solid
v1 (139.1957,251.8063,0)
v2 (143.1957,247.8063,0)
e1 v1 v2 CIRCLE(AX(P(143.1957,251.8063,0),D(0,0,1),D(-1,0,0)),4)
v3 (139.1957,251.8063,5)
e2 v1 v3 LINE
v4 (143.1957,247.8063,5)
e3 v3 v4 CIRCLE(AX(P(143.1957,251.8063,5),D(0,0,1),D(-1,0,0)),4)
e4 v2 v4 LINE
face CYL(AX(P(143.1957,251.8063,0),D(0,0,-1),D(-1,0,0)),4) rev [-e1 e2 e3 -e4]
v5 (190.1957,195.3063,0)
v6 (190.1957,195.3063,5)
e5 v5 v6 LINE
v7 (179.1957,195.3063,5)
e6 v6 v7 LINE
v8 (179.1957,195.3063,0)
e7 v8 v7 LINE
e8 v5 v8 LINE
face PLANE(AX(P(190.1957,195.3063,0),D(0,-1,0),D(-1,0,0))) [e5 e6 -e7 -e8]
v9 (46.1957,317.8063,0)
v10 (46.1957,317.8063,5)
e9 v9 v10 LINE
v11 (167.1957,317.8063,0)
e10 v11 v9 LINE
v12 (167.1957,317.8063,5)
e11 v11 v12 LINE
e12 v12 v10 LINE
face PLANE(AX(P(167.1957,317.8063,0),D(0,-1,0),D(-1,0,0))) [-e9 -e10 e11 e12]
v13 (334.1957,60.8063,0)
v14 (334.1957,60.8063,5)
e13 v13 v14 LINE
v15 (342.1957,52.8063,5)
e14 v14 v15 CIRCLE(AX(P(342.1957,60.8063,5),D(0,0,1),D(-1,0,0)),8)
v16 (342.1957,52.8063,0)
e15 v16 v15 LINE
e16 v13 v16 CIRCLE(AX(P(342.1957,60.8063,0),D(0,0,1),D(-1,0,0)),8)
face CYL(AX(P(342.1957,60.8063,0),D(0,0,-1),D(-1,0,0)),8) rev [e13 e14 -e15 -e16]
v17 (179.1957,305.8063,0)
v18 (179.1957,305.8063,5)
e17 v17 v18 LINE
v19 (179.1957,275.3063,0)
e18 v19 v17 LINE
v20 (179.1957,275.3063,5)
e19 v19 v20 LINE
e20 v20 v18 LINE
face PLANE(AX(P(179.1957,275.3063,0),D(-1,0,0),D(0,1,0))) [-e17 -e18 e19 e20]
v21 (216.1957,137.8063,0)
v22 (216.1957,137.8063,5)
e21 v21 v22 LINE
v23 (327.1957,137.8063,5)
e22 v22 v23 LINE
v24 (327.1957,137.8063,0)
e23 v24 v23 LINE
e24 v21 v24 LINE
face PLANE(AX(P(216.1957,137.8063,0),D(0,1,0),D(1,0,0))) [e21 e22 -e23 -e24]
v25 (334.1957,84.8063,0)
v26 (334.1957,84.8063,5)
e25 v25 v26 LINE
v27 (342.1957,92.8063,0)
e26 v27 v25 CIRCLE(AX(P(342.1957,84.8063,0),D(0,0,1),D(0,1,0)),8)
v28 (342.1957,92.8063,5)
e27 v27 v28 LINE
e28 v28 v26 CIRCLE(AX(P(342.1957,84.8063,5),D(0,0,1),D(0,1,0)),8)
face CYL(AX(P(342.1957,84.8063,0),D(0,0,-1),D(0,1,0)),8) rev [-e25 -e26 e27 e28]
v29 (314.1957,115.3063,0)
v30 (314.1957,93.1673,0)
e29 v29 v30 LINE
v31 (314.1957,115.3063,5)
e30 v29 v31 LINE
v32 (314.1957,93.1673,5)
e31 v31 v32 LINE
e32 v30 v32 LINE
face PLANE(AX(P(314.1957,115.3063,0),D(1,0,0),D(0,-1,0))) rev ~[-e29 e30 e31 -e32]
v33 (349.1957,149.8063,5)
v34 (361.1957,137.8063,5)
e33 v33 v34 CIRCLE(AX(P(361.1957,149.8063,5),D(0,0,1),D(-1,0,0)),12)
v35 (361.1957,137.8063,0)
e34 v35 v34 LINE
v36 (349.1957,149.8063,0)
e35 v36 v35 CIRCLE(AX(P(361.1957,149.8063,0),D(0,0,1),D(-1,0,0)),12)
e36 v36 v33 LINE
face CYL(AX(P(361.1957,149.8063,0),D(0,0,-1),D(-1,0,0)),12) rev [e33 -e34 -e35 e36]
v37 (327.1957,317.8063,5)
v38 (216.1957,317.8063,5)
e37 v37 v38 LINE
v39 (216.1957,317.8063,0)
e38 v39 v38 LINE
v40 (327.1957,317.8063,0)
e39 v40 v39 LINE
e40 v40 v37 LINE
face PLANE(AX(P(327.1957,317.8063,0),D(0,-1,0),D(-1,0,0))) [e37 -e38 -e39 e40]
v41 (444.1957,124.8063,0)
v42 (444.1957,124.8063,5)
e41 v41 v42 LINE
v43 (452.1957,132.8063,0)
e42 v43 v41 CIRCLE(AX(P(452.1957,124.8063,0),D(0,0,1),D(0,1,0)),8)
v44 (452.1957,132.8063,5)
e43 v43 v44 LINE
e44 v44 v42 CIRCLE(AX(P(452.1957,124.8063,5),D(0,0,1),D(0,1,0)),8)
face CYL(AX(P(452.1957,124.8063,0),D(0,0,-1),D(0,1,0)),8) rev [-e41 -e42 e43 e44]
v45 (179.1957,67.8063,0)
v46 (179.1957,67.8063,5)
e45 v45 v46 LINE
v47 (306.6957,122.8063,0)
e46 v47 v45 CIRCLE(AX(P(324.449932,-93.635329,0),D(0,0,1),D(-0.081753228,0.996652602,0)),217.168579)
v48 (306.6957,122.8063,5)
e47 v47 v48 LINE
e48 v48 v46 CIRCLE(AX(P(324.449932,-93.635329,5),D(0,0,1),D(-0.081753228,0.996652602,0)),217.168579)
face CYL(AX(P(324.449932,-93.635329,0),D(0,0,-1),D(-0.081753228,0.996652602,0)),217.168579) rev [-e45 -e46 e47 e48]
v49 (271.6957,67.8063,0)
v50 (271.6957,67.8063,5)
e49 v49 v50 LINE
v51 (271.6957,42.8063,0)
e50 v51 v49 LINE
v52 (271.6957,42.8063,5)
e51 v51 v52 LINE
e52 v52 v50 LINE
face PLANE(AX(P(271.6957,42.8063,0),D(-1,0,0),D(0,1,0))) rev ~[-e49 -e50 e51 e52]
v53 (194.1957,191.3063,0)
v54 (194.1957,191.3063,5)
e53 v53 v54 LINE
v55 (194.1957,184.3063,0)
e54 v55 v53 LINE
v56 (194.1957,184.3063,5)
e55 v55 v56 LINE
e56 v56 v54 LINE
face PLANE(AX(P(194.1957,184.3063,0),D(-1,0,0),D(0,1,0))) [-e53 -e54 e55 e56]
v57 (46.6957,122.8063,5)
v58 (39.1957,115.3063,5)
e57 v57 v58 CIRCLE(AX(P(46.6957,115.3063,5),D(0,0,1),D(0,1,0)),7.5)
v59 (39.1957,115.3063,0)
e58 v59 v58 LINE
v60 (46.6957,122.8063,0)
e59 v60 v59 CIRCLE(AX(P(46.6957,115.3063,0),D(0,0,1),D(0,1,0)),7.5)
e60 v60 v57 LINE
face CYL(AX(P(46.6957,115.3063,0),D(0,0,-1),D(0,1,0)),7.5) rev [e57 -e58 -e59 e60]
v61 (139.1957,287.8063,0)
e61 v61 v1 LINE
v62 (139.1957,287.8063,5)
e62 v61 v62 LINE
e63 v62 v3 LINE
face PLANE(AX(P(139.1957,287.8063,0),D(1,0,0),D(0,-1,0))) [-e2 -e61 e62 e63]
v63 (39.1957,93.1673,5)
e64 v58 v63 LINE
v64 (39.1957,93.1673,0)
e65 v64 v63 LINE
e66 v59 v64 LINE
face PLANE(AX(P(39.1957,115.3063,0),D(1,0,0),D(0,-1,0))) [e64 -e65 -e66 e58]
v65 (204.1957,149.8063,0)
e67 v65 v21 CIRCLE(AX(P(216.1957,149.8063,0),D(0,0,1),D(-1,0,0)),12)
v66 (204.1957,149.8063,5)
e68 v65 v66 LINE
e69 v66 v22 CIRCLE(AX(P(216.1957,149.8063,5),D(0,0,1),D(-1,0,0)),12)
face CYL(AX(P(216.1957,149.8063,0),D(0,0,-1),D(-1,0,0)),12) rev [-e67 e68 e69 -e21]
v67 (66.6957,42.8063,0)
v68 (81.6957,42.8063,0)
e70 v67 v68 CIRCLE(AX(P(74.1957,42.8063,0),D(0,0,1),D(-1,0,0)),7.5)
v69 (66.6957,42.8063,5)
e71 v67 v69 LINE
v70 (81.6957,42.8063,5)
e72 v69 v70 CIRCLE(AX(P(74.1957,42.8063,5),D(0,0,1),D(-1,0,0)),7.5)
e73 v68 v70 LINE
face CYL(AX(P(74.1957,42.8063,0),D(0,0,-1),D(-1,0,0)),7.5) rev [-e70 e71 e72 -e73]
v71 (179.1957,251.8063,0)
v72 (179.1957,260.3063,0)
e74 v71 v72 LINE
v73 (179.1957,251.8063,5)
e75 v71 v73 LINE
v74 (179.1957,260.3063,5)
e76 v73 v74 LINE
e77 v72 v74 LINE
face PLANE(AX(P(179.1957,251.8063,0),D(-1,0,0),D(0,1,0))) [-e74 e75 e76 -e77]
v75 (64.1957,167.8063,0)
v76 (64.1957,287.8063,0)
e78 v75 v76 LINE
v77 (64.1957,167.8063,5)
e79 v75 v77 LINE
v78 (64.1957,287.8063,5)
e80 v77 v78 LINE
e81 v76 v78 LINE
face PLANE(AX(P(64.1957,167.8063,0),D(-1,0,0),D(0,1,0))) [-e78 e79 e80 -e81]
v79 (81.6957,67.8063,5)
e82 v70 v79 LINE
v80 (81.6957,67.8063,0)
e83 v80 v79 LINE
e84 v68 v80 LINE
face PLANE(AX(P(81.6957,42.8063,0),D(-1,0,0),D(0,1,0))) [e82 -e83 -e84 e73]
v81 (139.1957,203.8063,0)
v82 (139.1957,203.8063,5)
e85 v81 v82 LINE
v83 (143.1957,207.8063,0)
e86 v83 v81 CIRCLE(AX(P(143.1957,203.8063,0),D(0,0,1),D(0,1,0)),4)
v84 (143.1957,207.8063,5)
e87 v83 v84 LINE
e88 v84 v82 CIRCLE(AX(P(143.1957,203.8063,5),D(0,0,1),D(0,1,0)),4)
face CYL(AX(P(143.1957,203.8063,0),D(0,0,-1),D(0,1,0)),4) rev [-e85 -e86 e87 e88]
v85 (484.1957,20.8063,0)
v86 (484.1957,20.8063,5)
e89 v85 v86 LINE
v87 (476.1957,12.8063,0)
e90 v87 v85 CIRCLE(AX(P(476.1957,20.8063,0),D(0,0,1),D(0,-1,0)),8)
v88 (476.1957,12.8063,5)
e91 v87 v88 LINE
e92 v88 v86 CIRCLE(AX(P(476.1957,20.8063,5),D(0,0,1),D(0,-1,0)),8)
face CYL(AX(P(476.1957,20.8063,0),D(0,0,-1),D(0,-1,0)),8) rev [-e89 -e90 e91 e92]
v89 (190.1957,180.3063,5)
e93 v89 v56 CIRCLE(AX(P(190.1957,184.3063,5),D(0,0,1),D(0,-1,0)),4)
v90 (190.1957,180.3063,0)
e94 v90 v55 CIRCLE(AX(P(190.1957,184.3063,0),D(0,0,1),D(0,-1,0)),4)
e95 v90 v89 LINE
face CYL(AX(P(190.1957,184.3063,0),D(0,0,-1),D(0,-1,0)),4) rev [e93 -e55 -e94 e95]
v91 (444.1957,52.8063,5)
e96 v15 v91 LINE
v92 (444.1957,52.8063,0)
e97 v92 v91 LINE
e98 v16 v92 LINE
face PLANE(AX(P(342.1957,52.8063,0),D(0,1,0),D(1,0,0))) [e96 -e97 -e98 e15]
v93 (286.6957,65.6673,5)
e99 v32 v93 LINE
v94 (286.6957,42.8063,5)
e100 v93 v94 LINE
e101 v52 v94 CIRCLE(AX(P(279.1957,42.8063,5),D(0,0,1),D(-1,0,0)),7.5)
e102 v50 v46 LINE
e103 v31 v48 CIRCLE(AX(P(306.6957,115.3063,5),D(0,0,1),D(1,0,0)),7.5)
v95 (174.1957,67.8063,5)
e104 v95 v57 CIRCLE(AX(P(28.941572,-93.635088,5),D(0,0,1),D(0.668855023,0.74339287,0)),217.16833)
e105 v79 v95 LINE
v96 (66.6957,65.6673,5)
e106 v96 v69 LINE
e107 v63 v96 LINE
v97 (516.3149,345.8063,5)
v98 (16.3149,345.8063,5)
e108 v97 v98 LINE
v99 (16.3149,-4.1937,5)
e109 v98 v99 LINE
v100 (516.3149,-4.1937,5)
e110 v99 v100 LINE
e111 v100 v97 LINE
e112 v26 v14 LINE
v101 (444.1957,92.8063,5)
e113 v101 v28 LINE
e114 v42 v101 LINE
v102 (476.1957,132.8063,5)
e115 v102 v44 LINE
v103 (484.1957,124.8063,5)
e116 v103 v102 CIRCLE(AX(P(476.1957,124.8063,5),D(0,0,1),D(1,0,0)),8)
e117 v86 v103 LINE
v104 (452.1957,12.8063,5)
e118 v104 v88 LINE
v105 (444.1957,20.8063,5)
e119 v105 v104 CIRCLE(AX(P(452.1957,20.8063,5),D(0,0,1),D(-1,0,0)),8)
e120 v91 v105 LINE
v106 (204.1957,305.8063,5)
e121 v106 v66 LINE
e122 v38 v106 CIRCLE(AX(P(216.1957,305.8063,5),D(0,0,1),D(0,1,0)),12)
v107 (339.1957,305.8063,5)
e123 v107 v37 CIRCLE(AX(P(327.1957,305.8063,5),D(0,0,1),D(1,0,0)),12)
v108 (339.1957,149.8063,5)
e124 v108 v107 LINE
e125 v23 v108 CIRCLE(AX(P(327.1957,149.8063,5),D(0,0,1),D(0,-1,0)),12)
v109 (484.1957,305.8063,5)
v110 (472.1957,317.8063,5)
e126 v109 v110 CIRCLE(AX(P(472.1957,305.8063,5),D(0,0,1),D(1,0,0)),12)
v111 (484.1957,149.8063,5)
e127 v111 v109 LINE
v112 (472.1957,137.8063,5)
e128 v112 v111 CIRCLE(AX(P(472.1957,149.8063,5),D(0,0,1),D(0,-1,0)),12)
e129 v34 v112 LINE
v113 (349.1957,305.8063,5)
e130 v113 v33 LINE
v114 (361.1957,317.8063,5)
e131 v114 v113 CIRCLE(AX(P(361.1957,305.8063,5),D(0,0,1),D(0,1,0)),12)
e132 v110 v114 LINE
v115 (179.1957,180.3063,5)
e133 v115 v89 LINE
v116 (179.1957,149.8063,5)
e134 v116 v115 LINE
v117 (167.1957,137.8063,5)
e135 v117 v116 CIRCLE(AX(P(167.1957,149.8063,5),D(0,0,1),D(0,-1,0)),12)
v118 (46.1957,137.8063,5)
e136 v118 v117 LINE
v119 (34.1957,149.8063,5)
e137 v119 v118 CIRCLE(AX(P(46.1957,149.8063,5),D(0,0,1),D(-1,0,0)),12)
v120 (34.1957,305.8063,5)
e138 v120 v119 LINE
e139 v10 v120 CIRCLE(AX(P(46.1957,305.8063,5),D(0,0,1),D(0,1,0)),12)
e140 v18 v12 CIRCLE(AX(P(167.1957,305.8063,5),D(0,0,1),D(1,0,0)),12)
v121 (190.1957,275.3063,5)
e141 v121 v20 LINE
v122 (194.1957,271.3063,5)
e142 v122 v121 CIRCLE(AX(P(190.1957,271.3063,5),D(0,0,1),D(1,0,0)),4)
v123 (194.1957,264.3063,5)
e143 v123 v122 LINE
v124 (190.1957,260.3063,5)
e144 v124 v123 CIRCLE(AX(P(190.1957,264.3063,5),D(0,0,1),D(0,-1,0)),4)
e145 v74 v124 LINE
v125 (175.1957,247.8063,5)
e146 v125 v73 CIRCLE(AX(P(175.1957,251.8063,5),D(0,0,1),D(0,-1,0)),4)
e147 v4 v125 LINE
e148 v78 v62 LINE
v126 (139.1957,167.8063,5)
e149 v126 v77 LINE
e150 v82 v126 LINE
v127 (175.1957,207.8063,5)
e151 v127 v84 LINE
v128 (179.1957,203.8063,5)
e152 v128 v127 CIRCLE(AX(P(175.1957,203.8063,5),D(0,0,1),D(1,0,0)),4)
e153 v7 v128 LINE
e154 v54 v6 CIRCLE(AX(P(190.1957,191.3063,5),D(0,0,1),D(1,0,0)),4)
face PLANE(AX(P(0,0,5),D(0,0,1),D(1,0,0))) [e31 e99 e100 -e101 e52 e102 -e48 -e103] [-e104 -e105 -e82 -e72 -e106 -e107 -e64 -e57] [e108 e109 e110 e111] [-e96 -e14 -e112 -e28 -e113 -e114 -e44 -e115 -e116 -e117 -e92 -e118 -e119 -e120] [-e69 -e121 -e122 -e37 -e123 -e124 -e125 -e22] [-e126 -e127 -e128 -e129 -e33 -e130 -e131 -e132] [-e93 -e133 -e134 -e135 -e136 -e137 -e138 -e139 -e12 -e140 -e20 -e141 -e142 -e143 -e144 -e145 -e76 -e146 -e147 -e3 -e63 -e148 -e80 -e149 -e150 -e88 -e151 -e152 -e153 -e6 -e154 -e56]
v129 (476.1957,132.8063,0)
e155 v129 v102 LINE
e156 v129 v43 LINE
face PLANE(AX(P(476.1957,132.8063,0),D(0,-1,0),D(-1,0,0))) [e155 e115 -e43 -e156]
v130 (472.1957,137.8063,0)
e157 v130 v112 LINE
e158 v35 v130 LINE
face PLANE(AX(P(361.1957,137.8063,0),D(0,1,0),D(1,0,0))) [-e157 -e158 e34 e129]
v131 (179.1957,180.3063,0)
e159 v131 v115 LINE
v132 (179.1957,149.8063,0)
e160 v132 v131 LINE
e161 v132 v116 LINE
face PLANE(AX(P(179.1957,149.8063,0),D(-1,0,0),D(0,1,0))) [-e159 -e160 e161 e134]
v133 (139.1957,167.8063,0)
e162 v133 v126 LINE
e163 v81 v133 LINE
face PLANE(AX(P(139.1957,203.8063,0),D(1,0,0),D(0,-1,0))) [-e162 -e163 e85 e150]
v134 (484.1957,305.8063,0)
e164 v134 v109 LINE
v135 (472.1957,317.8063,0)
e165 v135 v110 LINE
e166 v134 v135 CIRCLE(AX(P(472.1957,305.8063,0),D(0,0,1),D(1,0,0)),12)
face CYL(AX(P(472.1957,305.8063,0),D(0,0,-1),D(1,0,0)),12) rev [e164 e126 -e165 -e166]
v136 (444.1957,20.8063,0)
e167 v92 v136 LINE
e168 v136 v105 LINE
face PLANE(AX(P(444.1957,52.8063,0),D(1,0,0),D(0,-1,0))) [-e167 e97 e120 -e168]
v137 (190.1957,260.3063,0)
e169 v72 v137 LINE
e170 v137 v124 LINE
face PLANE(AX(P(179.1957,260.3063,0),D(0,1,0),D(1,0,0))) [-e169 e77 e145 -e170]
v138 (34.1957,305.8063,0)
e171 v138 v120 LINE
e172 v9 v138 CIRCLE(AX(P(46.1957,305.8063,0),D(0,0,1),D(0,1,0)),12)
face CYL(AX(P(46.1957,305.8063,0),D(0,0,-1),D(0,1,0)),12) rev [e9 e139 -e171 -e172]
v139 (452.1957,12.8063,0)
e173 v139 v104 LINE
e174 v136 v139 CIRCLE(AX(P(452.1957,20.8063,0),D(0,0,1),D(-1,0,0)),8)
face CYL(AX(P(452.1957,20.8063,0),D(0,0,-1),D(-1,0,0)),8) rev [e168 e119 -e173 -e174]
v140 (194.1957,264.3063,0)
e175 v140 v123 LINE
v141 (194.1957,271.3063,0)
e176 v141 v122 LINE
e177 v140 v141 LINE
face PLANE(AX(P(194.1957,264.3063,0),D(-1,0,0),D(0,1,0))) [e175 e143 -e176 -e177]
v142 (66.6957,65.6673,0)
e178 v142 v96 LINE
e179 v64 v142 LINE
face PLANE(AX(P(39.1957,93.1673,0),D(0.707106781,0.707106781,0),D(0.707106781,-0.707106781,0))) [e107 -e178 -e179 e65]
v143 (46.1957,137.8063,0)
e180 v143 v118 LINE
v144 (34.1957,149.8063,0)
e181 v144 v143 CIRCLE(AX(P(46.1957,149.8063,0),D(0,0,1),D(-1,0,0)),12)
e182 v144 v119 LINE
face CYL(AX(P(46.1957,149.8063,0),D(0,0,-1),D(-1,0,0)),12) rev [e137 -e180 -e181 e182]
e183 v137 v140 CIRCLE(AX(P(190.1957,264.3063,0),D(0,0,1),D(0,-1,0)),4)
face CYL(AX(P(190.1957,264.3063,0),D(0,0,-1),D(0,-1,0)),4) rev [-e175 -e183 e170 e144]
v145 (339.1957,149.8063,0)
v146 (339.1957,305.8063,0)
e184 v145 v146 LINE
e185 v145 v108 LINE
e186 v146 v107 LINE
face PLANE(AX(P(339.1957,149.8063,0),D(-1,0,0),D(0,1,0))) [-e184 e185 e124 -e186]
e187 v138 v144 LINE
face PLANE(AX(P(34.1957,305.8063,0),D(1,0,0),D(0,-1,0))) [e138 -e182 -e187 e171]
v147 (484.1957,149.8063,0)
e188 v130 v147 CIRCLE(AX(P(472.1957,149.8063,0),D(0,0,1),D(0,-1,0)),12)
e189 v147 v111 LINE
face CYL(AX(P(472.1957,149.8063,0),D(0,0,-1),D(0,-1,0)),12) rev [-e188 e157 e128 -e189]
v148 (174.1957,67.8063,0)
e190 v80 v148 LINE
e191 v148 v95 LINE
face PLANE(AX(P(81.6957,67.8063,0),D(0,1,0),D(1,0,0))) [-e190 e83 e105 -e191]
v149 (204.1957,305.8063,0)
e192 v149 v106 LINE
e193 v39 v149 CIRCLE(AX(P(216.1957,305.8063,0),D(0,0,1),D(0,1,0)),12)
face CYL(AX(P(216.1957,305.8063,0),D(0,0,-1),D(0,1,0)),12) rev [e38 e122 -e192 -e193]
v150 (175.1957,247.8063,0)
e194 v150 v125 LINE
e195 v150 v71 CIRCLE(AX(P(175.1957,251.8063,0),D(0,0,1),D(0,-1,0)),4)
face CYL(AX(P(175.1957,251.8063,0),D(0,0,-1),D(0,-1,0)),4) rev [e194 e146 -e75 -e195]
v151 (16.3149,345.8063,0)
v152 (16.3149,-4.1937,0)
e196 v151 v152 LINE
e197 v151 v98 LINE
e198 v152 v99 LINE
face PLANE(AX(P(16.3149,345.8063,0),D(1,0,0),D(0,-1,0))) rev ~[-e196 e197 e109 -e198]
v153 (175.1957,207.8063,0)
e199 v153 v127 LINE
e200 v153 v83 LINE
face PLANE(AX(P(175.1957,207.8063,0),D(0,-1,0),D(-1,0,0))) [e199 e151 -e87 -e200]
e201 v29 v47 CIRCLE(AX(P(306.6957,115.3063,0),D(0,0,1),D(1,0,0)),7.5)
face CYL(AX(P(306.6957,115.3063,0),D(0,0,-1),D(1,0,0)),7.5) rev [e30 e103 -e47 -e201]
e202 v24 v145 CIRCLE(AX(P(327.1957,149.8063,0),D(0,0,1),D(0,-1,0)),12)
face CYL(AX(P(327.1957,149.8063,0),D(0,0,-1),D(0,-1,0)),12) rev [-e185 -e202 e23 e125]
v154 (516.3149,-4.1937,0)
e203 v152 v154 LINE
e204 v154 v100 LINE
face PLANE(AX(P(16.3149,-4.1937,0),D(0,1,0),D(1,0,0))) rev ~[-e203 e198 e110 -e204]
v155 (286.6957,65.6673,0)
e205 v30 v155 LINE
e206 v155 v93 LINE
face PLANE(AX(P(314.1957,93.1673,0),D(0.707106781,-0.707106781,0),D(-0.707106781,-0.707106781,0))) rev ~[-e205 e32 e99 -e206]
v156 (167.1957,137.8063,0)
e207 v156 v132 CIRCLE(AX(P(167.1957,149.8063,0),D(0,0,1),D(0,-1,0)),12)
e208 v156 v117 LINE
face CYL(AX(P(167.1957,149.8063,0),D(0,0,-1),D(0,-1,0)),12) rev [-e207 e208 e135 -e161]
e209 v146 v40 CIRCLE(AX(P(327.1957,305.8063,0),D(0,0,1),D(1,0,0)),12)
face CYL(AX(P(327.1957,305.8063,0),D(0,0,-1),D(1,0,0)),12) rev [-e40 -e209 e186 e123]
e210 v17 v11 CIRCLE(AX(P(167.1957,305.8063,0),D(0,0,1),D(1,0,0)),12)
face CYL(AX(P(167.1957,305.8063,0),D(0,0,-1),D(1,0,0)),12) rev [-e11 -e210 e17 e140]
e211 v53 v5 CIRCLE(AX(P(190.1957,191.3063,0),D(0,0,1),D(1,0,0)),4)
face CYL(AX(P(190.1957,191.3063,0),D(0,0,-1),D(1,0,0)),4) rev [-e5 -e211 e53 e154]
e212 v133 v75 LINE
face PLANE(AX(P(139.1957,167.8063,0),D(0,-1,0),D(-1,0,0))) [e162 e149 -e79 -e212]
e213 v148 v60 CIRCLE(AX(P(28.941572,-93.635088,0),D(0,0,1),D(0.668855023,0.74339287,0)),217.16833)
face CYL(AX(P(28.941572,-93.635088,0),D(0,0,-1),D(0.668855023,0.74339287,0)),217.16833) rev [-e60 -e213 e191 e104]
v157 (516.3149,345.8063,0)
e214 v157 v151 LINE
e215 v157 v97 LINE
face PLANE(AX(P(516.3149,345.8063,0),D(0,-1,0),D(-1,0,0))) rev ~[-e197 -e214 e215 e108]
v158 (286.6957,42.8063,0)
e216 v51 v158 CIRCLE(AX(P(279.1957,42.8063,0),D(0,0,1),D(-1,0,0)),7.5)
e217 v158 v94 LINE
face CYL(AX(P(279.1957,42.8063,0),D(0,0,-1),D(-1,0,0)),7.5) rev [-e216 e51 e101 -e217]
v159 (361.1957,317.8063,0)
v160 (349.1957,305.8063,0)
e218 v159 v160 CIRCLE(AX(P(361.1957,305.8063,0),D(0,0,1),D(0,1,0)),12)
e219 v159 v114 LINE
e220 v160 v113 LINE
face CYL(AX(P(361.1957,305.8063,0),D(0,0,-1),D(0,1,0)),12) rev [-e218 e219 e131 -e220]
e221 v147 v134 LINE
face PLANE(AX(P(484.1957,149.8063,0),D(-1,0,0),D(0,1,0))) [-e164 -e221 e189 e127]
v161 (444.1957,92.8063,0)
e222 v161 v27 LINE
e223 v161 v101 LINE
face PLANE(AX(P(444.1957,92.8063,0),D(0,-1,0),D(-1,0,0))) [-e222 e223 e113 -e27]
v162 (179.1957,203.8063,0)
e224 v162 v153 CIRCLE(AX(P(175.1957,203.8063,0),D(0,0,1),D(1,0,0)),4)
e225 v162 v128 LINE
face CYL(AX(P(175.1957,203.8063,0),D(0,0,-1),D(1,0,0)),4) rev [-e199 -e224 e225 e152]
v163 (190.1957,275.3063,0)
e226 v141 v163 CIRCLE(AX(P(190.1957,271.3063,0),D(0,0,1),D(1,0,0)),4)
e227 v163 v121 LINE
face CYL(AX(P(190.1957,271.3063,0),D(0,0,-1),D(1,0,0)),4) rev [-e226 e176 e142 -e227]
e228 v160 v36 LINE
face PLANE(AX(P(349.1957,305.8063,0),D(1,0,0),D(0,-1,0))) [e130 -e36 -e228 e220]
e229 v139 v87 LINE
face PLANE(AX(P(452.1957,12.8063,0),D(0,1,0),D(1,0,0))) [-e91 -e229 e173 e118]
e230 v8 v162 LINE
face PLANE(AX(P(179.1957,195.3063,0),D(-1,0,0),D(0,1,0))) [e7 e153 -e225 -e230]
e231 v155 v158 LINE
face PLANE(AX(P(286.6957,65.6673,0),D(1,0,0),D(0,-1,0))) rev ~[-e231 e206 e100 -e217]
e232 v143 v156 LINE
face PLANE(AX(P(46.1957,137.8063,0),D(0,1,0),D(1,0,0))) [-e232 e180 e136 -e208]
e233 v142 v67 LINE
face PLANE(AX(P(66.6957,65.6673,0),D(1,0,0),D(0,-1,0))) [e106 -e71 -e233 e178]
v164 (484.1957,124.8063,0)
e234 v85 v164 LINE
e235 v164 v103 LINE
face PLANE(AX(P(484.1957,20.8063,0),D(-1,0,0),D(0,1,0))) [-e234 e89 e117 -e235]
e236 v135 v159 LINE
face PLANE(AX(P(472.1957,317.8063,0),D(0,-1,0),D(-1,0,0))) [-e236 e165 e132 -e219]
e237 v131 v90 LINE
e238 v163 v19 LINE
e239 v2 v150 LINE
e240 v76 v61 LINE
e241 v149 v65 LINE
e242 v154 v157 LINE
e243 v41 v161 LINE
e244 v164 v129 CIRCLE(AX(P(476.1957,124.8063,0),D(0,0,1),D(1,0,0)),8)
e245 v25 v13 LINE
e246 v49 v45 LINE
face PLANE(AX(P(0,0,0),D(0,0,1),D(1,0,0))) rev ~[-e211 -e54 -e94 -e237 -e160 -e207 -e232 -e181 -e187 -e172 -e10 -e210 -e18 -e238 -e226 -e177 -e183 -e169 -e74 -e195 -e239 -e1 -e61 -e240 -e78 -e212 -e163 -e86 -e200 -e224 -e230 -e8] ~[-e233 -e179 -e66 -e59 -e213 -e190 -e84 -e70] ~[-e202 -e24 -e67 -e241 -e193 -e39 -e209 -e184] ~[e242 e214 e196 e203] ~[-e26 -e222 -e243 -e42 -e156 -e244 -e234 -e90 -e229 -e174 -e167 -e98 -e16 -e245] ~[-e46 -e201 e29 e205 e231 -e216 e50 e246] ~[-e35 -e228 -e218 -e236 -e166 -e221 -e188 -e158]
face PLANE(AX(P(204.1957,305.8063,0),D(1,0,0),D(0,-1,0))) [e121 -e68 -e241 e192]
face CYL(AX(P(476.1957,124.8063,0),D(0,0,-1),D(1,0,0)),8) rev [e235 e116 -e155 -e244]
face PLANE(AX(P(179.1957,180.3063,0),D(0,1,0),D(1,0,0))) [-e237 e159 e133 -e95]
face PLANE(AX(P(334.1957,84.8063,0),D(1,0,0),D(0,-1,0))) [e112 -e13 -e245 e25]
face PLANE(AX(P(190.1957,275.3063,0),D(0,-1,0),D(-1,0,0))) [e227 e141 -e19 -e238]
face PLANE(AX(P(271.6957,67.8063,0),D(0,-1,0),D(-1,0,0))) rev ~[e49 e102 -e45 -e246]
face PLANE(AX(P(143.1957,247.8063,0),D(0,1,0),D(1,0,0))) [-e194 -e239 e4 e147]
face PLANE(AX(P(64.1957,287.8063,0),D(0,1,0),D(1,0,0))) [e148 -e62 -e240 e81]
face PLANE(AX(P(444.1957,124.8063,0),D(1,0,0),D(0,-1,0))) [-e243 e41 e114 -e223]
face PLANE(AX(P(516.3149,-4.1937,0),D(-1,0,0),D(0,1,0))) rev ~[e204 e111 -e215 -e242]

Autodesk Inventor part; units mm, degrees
ref_plane "YZ Plane" through (0, 0, 0) normal (1, 0, 0) x (0, 1, 0)
ref_plane "XZ Plane" through (0, 0, 0) normal (0, 1, 0) x (-1, 0, 0)
ref_plane "XY Plane" through (0, 0, 0) normal (0, 0, 1) x (1, 0, 0)
sketch "Sketch1" plane through (0, 0, 0) normal (0, 0, 1) x (1, 0, 0)
  arc A0 (70.6957, 42.8063) -> (77.6957, 42.8063) centre (74.1957, 42.8063) ccw
  line L0 (66.6957, 65.6673) -> (66.6957, 42.8063)
  line L1 (39.1957, 93.1673) -> (66.6957, 65.6673)
  line L2 (39.1957, 115.3063) -> (39.1957, 93.1673)
  arc A1 (46.6957, 122.8063) -> (39.1957, 115.3063) centre (46.6957, 115.3063) ccw
  arc A2 (174.1957, 67.8063) -> (46.6957, 122.8063) centre (28.9415, -93.6352) ccw
  line L3 (81.6957, 67.8063) -> (174.1957, 67.8063)
  line L4 (81.6957, 42.8063) -> (81.6957, 67.8063)
  arc A3 (66.6957, 42.8063) -> (81.6957, 42.8063) centre (74.1957, 42.8063) ccw
  circle A4 centre (299.1957, 107.8063) radius 3.5
  line L5 (275.6957, 67.8063) -> (275.6957, 42.8063)
  arc A5 (282.6957, 67.8063) -> (275.6957, 67.8063) centre (279.1957, 67.8063) ccw
  line L6 (282.6957, 42.8063) -> (282.6957, 67.8063)
  arc A6 (275.6957, 42.8063) -> (282.6957, 42.8063) centre (279.1957, 42.8063) ccw
  line L7 (286.6957, 65.6673) -> (286.6957, 42.8063)
  line L8 (314.1957, 93.1673) -> (286.6957, 65.6673)
  line L9 (314.1957, 115.3063) -> (314.1957, 93.1673)
  arc A7 (314.1957, 115.3063) -> (306.6957, 122.8063) centre (306.6957, 115.3063) ccw
  arc A8 (306.6957, 122.8063) -> (179.1957, 67.8063) centre (324.4499, -93.6352) ccw
  line L10 (271.6957, 67.8063) -> (179.1957, 67.8063)
  line L11 (271.6957, 42.8063) -> (271.6957, 67.8063)
  arc A9 (271.6957, 42.8063) -> (286.6957, 42.8063) centre (279.1957, 42.8063) ccw
  circle A10 centre (324.1957, 152.8063) radius 3.5
  circle A11 centre (219.1957, 302.8063) radius 3.5
  circle A12 centre (324.1957, 302.8063) radius 3.5
  circle A13 centre (219.1957, 152.8063) radius 3.5
  line L12 (234.1957, 177.8063) -> (234.1957, 277.8063)
  line L13 (309.1957, 177.8063) -> (234.1957, 177.8063)
  line L14 (309.1957, 277.8063) -> (309.1957, 177.8063)
  line L15 (234.1957, 277.8063) -> (309.1957, 277.8063)
  arc A14 (204.1957, 149.8063) -> (216.1957, 137.8063) centre (216.1957, 149.8063) ccw
  line L16 (204.1957, 305.8063) -> (204.1957, 149.8063)
  arc A15 (216.1957, 317.8063) -> (204.1957, 305.8063) centre (216.1957, 305.8063) ccw
  line L17 (327.1957, 317.8063) -> (216.1957, 317.8063)
  arc A16 (339.1957, 305.8063) -> (327.1957, 317.8063) centre (327.1957, 305.8063) ccw
  line L18 (339.1957, 149.8063) -> (339.1957, 305.8063)
  arc A17 (327.1957, 137.8063) -> (339.1957, 149.8063) centre (327.1957, 149.8063) ccw
  line L19 (216.1957, 137.8063) -> (327.1957, 137.8063)
  circle A18 centre (469.1957, 152.8063) radius 3.5
  circle A19 centre (364.1957, 302.8063) radius 3.5
  circle A20 centre (469.1957, 302.8063) radius 3.5
  circle A21 centre (364.1957, 152.8063) radius 3.5
  line L20 (379.1957, 177.8063) -> (379.1957, 277.8063)
  line L21 (454.1957, 177.8063) -> (379.1957, 177.8063)
  line L22 (454.1957, 277.8063) -> (454.1957, 177.8063)
  line L23 (379.1957, 277.8063) -> (454.1957, 277.8063)
  arc A22 (349.1957, 149.8063) -> (361.1957, 137.8063) centre (361.1957, 149.8063) ccw
  line L24 (349.1957, 305.8063) -> (349.1957, 149.8063)
  arc A23 (361.1957, 317.8063) -> (349.1957, 305.8063) centre (361.1957, 305.8063) ccw
  line L25 (472.1957, 317.8063) -> (361.1957, 317.8063)
  arc A24 (484.1957, 305.8063) -> (472.1957, 317.8063) centre (472.1957, 305.8063) ccw
  line L26 (484.1957, 149.8063) -> (484.1957, 305.8063)
  arc A25 (472.1957, 137.8063) -> (484.1957, 149.8063) centre (472.1957, 149.8063) ccw
  line L27 (361.1957, 137.8063) -> (472.1957, 137.8063)
  circle A26 centre (154.1957, 152.8063) radius 3.5
  circle A27 centre (49.1957, 302.8063) radius 3.5
  circle A28 centre (49.1957, 152.8063) radius 3.5
  circle A29 centre (154.1957, 302.8063) radius 3.5
  circle A30 centre (186.6957, 267.8063) radius 3.5
  circle A31 centre (186.6957, 187.8063) radius 3.5
  arc A32 (139.1957, 251.8063) -> (143.1957, 247.8063) centre (143.1957, 251.8063) ccw
  line L28 (139.1957, 287.8063) -> (139.1957, 251.8063)
  line L29 (64.1957, 287.8063) -> (139.1957, 287.8063)
  line L30 (64.1957, 167.8063) -> (64.1957, 287.8063)
  line L31 (139.1957, 167.8063) -> (64.1957, 167.8063)
  line L32 (139.1957, 203.8063) -> (139.1957, 167.8063)
  arc A33 (143.1957, 207.8063) -> (139.1957, 203.8063) centre (143.1957, 203.8063) ccw
  line L33 (175.1957, 207.8063) -> (143.1957, 207.8063)
  arc A34 (179.1957, 203.8063) -> (175.1957, 207.8063) centre (175.1957, 203.8063) ccw
  line L34 (179.1957, 195.3063) -> (179.1957, 203.8063)
  line L35 (190.1957, 195.3063) -> (179.1957, 195.3063)
  arc A35 (194.1957, 191.3063) -> (190.1957, 195.3063) centre (190.1957, 191.3063) ccw
  line L36 (194.1957, 184.3063) -> (194.1957, 191.3063)
  arc A36 (190.1957, 180.3063) -> (194.1957, 184.3063) centre (190.1957, 184.3063) ccw
  line L37 (179.1957, 180.3063) -> (190.1957, 180.3063)
  line L38 (179.1957, 149.8063) -> (179.1957, 180.3063)
  arc A37 (167.1957, 137.8063) -> (179.1957, 149.8063) centre (167.1957, 149.8063) ccw
  line L39 (46.1957, 137.8063) -> (167.1957, 137.8063)
  arc A38 (34.1957, 149.8063) -> (46.1957, 137.8063) centre (46.1957, 149.8063) ccw
  line L40 (34.1957, 305.8063) -> (34.1957, 149.8063)
  arc A39 (46.1957, 317.8063) -> (34.1957, 305.8063) centre (46.1957, 305.8063) ccw
  line L41 (167.1957, 317.8063) -> (46.1957, 317.8063)
  circle A40 centre (54.1957, 107.8063) radius 3.5
  line L42 (179.1957, 275.3063) -> (179.1957, 305.8063)
  line L43 (190.1957, 275.3063) -> (179.1957, 275.3063)
  arc A41 (194.1957, 271.3063) -> (190.1957, 275.3063) centre (190.1957, 271.3063) ccw
  line L44 (194.1957, 264.3063) -> (194.1957, 271.3063)
  arc A42 (190.1957, 260.3063) -> (194.1957, 264.3063) centre (190.1957, 264.3063) ccw
  line L45 (179.1957, 260.3063) -> (190.1957, 260.3063)
  line L46 (179.1957, 251.8063) -> (179.1957, 260.3063)
  arc A43 (175.1957, 247.8063) -> (179.1957, 251.8063) centre (175.1957, 251.8063) ccw
  line L47 (143.1957, 247.8063) -> (175.1957, 247.8063)
  circle A44 centre (341.6957, 72.8063) radius 3.5
  arc A45 (484.1957, 124.8063) -> (476.1957, 132.8063) centre (476.1957, 124.8063) ccw
  line L48 (484.1957, 20.8063) -> (484.1957, 124.8063)
  arc A46 (476.1957, 12.8063) -> (484.1957, 20.8063) centre (476.1957, 20.8063) ccw
  arc A47 (179.1957, 305.8063) -> (167.1957, 317.8063) centre (167.1957, 305.8063) ccw
  arc A48 (444.1957, 20.8063) -> (452.1957, 12.8063) centre (452.1957, 20.8063) ccw
  line L49 (444.1957, 52.8063) -> (444.1957, 20.8063)
  line L50 (342.1957, 52.8063) -> (444.1957, 52.8063)
  arc A49 (334.1957, 60.8063) -> (342.1957, 52.8063) centre (342.1957, 60.8063) ccw
  line L51 (334.1957, 84.8063) -> (334.1957, 60.8063)
  arc A50 (342.1957, 92.8063) -> (334.1957, 84.8063) centre (342.1957, 84.8063) ccw
  line L52 (444.1957, 92.8063) -> (342.1957, 92.8063)
  line L53 (444.1957, 124.8063) -> (444.1957, 92.8063)
  arc A51 (452.1957, 132.8063) -> (444.1957, 124.8063) centre (452.1957, 124.8063) ccw
  line L54 (476.1957, 132.8063) -> (452.1957, 132.8063)
  line L55 (77.6957, 67.8063) -> (77.6957, 42.8063)
  arc A52 (77.6957, 67.8063) -> (70.6957, 67.8063) centre (74.1957, 67.8063) ccw
  line L56 (70.6957, 42.8063) -> (70.6957, 67.8063)
  line L57 (452.1957, 12.8063) -> (476.1957, 12.8063)
  line L58 (17.0765, 317.8063) -> (487.0765, 317.8063) construction
  line L59 (27.0765, 327.8063) -> (27.0765, 7.8063) construction
  line L60 (17.0765, 17.8063) -> (487.0765, 17.8063) construction
  line L61 (484.1957, 7.8063) -> (484.1957, 327.8063) construction
  line L62 (516.3149, 345.8063) -> (16.3149, 345.8063)
  line L63 (16.3149, 345.8063) -> (16.3149, -4.1937)
  line L64 (16.3149, -4.1937) -> (516.3149, -4.1937)
  line L65 (516.3149, -4.1937) -> (516.3149, 345.8063)
  point P0 (179.1957, 165.0563)
  point P1 (167.0765, 67.8063)
  point P2 (172.0765, 67.8063)
  point P3 (339.1957, 305.8063)
  point P4 (27.0765, 305.8063)
  point P5 (484.1957, 20.8063)
  point P6 (452.1957, 132.8063)
  point P7 (484.1957, 124.8063)
  point P8 (342.1957, 92.8063)
  point P9 (349.1957, 149.8063)
  point P10 (349.1957, 305.8063)
  point P11 (361.1957, 137.8063)
  point P12 (216.1957, 137.8063)
  point P13 (204.1957, 149.8063)
  point P14 (46.1957, 317.8063)
  point P15 (9.1957, 345.8063)
  dimension "d20" = 30
  dimension "d21" = 30
  dimension "d22" = 30
  dimension "d23" = 40
  dimension "d24" = 4
  dimension "d25" = 4
  dimension "d26" = 4
  dimension "d27" = 4
  dimension "d28" = 7
  dimension "d29" = 7
  dimension "d30" = 7
  dimension "d31" = 7
  dimension "d32" = 75
  dimension "d33" = 12
  dimension "d34" = 12
  dimension "d35" = 12
  dimension "d36" = 12
  dimension "d37" = 120
  dimension "d38" = 40
  dimension "d39" = 25
  dimension "d40" = 15
  dimension "d41" = 15
  dimension "d42" = 15
  dimension "d43" = 15
  dimension "d44" = 15
  dimension "d49" = 140
  dimension "d50" = 5
  dimension "d51" = 50
  dimension "d52" = 145
  dimension "d53" = 12
  dimension "d54" = 123
  dimension "d55" = 145
  dimension "d57" = 12
  dimension "d61" = 500
  dimension "d62" = 350
  dimension "d64" = 30
  dimension "d65" = 28
extrude "Extrusion2" add sketch "Sketch1" along normal blind 5 contours L65 L64 L63 L62
properties part number "MarcoRompecabezas" material "MDF Medium Density Fiberboard"
